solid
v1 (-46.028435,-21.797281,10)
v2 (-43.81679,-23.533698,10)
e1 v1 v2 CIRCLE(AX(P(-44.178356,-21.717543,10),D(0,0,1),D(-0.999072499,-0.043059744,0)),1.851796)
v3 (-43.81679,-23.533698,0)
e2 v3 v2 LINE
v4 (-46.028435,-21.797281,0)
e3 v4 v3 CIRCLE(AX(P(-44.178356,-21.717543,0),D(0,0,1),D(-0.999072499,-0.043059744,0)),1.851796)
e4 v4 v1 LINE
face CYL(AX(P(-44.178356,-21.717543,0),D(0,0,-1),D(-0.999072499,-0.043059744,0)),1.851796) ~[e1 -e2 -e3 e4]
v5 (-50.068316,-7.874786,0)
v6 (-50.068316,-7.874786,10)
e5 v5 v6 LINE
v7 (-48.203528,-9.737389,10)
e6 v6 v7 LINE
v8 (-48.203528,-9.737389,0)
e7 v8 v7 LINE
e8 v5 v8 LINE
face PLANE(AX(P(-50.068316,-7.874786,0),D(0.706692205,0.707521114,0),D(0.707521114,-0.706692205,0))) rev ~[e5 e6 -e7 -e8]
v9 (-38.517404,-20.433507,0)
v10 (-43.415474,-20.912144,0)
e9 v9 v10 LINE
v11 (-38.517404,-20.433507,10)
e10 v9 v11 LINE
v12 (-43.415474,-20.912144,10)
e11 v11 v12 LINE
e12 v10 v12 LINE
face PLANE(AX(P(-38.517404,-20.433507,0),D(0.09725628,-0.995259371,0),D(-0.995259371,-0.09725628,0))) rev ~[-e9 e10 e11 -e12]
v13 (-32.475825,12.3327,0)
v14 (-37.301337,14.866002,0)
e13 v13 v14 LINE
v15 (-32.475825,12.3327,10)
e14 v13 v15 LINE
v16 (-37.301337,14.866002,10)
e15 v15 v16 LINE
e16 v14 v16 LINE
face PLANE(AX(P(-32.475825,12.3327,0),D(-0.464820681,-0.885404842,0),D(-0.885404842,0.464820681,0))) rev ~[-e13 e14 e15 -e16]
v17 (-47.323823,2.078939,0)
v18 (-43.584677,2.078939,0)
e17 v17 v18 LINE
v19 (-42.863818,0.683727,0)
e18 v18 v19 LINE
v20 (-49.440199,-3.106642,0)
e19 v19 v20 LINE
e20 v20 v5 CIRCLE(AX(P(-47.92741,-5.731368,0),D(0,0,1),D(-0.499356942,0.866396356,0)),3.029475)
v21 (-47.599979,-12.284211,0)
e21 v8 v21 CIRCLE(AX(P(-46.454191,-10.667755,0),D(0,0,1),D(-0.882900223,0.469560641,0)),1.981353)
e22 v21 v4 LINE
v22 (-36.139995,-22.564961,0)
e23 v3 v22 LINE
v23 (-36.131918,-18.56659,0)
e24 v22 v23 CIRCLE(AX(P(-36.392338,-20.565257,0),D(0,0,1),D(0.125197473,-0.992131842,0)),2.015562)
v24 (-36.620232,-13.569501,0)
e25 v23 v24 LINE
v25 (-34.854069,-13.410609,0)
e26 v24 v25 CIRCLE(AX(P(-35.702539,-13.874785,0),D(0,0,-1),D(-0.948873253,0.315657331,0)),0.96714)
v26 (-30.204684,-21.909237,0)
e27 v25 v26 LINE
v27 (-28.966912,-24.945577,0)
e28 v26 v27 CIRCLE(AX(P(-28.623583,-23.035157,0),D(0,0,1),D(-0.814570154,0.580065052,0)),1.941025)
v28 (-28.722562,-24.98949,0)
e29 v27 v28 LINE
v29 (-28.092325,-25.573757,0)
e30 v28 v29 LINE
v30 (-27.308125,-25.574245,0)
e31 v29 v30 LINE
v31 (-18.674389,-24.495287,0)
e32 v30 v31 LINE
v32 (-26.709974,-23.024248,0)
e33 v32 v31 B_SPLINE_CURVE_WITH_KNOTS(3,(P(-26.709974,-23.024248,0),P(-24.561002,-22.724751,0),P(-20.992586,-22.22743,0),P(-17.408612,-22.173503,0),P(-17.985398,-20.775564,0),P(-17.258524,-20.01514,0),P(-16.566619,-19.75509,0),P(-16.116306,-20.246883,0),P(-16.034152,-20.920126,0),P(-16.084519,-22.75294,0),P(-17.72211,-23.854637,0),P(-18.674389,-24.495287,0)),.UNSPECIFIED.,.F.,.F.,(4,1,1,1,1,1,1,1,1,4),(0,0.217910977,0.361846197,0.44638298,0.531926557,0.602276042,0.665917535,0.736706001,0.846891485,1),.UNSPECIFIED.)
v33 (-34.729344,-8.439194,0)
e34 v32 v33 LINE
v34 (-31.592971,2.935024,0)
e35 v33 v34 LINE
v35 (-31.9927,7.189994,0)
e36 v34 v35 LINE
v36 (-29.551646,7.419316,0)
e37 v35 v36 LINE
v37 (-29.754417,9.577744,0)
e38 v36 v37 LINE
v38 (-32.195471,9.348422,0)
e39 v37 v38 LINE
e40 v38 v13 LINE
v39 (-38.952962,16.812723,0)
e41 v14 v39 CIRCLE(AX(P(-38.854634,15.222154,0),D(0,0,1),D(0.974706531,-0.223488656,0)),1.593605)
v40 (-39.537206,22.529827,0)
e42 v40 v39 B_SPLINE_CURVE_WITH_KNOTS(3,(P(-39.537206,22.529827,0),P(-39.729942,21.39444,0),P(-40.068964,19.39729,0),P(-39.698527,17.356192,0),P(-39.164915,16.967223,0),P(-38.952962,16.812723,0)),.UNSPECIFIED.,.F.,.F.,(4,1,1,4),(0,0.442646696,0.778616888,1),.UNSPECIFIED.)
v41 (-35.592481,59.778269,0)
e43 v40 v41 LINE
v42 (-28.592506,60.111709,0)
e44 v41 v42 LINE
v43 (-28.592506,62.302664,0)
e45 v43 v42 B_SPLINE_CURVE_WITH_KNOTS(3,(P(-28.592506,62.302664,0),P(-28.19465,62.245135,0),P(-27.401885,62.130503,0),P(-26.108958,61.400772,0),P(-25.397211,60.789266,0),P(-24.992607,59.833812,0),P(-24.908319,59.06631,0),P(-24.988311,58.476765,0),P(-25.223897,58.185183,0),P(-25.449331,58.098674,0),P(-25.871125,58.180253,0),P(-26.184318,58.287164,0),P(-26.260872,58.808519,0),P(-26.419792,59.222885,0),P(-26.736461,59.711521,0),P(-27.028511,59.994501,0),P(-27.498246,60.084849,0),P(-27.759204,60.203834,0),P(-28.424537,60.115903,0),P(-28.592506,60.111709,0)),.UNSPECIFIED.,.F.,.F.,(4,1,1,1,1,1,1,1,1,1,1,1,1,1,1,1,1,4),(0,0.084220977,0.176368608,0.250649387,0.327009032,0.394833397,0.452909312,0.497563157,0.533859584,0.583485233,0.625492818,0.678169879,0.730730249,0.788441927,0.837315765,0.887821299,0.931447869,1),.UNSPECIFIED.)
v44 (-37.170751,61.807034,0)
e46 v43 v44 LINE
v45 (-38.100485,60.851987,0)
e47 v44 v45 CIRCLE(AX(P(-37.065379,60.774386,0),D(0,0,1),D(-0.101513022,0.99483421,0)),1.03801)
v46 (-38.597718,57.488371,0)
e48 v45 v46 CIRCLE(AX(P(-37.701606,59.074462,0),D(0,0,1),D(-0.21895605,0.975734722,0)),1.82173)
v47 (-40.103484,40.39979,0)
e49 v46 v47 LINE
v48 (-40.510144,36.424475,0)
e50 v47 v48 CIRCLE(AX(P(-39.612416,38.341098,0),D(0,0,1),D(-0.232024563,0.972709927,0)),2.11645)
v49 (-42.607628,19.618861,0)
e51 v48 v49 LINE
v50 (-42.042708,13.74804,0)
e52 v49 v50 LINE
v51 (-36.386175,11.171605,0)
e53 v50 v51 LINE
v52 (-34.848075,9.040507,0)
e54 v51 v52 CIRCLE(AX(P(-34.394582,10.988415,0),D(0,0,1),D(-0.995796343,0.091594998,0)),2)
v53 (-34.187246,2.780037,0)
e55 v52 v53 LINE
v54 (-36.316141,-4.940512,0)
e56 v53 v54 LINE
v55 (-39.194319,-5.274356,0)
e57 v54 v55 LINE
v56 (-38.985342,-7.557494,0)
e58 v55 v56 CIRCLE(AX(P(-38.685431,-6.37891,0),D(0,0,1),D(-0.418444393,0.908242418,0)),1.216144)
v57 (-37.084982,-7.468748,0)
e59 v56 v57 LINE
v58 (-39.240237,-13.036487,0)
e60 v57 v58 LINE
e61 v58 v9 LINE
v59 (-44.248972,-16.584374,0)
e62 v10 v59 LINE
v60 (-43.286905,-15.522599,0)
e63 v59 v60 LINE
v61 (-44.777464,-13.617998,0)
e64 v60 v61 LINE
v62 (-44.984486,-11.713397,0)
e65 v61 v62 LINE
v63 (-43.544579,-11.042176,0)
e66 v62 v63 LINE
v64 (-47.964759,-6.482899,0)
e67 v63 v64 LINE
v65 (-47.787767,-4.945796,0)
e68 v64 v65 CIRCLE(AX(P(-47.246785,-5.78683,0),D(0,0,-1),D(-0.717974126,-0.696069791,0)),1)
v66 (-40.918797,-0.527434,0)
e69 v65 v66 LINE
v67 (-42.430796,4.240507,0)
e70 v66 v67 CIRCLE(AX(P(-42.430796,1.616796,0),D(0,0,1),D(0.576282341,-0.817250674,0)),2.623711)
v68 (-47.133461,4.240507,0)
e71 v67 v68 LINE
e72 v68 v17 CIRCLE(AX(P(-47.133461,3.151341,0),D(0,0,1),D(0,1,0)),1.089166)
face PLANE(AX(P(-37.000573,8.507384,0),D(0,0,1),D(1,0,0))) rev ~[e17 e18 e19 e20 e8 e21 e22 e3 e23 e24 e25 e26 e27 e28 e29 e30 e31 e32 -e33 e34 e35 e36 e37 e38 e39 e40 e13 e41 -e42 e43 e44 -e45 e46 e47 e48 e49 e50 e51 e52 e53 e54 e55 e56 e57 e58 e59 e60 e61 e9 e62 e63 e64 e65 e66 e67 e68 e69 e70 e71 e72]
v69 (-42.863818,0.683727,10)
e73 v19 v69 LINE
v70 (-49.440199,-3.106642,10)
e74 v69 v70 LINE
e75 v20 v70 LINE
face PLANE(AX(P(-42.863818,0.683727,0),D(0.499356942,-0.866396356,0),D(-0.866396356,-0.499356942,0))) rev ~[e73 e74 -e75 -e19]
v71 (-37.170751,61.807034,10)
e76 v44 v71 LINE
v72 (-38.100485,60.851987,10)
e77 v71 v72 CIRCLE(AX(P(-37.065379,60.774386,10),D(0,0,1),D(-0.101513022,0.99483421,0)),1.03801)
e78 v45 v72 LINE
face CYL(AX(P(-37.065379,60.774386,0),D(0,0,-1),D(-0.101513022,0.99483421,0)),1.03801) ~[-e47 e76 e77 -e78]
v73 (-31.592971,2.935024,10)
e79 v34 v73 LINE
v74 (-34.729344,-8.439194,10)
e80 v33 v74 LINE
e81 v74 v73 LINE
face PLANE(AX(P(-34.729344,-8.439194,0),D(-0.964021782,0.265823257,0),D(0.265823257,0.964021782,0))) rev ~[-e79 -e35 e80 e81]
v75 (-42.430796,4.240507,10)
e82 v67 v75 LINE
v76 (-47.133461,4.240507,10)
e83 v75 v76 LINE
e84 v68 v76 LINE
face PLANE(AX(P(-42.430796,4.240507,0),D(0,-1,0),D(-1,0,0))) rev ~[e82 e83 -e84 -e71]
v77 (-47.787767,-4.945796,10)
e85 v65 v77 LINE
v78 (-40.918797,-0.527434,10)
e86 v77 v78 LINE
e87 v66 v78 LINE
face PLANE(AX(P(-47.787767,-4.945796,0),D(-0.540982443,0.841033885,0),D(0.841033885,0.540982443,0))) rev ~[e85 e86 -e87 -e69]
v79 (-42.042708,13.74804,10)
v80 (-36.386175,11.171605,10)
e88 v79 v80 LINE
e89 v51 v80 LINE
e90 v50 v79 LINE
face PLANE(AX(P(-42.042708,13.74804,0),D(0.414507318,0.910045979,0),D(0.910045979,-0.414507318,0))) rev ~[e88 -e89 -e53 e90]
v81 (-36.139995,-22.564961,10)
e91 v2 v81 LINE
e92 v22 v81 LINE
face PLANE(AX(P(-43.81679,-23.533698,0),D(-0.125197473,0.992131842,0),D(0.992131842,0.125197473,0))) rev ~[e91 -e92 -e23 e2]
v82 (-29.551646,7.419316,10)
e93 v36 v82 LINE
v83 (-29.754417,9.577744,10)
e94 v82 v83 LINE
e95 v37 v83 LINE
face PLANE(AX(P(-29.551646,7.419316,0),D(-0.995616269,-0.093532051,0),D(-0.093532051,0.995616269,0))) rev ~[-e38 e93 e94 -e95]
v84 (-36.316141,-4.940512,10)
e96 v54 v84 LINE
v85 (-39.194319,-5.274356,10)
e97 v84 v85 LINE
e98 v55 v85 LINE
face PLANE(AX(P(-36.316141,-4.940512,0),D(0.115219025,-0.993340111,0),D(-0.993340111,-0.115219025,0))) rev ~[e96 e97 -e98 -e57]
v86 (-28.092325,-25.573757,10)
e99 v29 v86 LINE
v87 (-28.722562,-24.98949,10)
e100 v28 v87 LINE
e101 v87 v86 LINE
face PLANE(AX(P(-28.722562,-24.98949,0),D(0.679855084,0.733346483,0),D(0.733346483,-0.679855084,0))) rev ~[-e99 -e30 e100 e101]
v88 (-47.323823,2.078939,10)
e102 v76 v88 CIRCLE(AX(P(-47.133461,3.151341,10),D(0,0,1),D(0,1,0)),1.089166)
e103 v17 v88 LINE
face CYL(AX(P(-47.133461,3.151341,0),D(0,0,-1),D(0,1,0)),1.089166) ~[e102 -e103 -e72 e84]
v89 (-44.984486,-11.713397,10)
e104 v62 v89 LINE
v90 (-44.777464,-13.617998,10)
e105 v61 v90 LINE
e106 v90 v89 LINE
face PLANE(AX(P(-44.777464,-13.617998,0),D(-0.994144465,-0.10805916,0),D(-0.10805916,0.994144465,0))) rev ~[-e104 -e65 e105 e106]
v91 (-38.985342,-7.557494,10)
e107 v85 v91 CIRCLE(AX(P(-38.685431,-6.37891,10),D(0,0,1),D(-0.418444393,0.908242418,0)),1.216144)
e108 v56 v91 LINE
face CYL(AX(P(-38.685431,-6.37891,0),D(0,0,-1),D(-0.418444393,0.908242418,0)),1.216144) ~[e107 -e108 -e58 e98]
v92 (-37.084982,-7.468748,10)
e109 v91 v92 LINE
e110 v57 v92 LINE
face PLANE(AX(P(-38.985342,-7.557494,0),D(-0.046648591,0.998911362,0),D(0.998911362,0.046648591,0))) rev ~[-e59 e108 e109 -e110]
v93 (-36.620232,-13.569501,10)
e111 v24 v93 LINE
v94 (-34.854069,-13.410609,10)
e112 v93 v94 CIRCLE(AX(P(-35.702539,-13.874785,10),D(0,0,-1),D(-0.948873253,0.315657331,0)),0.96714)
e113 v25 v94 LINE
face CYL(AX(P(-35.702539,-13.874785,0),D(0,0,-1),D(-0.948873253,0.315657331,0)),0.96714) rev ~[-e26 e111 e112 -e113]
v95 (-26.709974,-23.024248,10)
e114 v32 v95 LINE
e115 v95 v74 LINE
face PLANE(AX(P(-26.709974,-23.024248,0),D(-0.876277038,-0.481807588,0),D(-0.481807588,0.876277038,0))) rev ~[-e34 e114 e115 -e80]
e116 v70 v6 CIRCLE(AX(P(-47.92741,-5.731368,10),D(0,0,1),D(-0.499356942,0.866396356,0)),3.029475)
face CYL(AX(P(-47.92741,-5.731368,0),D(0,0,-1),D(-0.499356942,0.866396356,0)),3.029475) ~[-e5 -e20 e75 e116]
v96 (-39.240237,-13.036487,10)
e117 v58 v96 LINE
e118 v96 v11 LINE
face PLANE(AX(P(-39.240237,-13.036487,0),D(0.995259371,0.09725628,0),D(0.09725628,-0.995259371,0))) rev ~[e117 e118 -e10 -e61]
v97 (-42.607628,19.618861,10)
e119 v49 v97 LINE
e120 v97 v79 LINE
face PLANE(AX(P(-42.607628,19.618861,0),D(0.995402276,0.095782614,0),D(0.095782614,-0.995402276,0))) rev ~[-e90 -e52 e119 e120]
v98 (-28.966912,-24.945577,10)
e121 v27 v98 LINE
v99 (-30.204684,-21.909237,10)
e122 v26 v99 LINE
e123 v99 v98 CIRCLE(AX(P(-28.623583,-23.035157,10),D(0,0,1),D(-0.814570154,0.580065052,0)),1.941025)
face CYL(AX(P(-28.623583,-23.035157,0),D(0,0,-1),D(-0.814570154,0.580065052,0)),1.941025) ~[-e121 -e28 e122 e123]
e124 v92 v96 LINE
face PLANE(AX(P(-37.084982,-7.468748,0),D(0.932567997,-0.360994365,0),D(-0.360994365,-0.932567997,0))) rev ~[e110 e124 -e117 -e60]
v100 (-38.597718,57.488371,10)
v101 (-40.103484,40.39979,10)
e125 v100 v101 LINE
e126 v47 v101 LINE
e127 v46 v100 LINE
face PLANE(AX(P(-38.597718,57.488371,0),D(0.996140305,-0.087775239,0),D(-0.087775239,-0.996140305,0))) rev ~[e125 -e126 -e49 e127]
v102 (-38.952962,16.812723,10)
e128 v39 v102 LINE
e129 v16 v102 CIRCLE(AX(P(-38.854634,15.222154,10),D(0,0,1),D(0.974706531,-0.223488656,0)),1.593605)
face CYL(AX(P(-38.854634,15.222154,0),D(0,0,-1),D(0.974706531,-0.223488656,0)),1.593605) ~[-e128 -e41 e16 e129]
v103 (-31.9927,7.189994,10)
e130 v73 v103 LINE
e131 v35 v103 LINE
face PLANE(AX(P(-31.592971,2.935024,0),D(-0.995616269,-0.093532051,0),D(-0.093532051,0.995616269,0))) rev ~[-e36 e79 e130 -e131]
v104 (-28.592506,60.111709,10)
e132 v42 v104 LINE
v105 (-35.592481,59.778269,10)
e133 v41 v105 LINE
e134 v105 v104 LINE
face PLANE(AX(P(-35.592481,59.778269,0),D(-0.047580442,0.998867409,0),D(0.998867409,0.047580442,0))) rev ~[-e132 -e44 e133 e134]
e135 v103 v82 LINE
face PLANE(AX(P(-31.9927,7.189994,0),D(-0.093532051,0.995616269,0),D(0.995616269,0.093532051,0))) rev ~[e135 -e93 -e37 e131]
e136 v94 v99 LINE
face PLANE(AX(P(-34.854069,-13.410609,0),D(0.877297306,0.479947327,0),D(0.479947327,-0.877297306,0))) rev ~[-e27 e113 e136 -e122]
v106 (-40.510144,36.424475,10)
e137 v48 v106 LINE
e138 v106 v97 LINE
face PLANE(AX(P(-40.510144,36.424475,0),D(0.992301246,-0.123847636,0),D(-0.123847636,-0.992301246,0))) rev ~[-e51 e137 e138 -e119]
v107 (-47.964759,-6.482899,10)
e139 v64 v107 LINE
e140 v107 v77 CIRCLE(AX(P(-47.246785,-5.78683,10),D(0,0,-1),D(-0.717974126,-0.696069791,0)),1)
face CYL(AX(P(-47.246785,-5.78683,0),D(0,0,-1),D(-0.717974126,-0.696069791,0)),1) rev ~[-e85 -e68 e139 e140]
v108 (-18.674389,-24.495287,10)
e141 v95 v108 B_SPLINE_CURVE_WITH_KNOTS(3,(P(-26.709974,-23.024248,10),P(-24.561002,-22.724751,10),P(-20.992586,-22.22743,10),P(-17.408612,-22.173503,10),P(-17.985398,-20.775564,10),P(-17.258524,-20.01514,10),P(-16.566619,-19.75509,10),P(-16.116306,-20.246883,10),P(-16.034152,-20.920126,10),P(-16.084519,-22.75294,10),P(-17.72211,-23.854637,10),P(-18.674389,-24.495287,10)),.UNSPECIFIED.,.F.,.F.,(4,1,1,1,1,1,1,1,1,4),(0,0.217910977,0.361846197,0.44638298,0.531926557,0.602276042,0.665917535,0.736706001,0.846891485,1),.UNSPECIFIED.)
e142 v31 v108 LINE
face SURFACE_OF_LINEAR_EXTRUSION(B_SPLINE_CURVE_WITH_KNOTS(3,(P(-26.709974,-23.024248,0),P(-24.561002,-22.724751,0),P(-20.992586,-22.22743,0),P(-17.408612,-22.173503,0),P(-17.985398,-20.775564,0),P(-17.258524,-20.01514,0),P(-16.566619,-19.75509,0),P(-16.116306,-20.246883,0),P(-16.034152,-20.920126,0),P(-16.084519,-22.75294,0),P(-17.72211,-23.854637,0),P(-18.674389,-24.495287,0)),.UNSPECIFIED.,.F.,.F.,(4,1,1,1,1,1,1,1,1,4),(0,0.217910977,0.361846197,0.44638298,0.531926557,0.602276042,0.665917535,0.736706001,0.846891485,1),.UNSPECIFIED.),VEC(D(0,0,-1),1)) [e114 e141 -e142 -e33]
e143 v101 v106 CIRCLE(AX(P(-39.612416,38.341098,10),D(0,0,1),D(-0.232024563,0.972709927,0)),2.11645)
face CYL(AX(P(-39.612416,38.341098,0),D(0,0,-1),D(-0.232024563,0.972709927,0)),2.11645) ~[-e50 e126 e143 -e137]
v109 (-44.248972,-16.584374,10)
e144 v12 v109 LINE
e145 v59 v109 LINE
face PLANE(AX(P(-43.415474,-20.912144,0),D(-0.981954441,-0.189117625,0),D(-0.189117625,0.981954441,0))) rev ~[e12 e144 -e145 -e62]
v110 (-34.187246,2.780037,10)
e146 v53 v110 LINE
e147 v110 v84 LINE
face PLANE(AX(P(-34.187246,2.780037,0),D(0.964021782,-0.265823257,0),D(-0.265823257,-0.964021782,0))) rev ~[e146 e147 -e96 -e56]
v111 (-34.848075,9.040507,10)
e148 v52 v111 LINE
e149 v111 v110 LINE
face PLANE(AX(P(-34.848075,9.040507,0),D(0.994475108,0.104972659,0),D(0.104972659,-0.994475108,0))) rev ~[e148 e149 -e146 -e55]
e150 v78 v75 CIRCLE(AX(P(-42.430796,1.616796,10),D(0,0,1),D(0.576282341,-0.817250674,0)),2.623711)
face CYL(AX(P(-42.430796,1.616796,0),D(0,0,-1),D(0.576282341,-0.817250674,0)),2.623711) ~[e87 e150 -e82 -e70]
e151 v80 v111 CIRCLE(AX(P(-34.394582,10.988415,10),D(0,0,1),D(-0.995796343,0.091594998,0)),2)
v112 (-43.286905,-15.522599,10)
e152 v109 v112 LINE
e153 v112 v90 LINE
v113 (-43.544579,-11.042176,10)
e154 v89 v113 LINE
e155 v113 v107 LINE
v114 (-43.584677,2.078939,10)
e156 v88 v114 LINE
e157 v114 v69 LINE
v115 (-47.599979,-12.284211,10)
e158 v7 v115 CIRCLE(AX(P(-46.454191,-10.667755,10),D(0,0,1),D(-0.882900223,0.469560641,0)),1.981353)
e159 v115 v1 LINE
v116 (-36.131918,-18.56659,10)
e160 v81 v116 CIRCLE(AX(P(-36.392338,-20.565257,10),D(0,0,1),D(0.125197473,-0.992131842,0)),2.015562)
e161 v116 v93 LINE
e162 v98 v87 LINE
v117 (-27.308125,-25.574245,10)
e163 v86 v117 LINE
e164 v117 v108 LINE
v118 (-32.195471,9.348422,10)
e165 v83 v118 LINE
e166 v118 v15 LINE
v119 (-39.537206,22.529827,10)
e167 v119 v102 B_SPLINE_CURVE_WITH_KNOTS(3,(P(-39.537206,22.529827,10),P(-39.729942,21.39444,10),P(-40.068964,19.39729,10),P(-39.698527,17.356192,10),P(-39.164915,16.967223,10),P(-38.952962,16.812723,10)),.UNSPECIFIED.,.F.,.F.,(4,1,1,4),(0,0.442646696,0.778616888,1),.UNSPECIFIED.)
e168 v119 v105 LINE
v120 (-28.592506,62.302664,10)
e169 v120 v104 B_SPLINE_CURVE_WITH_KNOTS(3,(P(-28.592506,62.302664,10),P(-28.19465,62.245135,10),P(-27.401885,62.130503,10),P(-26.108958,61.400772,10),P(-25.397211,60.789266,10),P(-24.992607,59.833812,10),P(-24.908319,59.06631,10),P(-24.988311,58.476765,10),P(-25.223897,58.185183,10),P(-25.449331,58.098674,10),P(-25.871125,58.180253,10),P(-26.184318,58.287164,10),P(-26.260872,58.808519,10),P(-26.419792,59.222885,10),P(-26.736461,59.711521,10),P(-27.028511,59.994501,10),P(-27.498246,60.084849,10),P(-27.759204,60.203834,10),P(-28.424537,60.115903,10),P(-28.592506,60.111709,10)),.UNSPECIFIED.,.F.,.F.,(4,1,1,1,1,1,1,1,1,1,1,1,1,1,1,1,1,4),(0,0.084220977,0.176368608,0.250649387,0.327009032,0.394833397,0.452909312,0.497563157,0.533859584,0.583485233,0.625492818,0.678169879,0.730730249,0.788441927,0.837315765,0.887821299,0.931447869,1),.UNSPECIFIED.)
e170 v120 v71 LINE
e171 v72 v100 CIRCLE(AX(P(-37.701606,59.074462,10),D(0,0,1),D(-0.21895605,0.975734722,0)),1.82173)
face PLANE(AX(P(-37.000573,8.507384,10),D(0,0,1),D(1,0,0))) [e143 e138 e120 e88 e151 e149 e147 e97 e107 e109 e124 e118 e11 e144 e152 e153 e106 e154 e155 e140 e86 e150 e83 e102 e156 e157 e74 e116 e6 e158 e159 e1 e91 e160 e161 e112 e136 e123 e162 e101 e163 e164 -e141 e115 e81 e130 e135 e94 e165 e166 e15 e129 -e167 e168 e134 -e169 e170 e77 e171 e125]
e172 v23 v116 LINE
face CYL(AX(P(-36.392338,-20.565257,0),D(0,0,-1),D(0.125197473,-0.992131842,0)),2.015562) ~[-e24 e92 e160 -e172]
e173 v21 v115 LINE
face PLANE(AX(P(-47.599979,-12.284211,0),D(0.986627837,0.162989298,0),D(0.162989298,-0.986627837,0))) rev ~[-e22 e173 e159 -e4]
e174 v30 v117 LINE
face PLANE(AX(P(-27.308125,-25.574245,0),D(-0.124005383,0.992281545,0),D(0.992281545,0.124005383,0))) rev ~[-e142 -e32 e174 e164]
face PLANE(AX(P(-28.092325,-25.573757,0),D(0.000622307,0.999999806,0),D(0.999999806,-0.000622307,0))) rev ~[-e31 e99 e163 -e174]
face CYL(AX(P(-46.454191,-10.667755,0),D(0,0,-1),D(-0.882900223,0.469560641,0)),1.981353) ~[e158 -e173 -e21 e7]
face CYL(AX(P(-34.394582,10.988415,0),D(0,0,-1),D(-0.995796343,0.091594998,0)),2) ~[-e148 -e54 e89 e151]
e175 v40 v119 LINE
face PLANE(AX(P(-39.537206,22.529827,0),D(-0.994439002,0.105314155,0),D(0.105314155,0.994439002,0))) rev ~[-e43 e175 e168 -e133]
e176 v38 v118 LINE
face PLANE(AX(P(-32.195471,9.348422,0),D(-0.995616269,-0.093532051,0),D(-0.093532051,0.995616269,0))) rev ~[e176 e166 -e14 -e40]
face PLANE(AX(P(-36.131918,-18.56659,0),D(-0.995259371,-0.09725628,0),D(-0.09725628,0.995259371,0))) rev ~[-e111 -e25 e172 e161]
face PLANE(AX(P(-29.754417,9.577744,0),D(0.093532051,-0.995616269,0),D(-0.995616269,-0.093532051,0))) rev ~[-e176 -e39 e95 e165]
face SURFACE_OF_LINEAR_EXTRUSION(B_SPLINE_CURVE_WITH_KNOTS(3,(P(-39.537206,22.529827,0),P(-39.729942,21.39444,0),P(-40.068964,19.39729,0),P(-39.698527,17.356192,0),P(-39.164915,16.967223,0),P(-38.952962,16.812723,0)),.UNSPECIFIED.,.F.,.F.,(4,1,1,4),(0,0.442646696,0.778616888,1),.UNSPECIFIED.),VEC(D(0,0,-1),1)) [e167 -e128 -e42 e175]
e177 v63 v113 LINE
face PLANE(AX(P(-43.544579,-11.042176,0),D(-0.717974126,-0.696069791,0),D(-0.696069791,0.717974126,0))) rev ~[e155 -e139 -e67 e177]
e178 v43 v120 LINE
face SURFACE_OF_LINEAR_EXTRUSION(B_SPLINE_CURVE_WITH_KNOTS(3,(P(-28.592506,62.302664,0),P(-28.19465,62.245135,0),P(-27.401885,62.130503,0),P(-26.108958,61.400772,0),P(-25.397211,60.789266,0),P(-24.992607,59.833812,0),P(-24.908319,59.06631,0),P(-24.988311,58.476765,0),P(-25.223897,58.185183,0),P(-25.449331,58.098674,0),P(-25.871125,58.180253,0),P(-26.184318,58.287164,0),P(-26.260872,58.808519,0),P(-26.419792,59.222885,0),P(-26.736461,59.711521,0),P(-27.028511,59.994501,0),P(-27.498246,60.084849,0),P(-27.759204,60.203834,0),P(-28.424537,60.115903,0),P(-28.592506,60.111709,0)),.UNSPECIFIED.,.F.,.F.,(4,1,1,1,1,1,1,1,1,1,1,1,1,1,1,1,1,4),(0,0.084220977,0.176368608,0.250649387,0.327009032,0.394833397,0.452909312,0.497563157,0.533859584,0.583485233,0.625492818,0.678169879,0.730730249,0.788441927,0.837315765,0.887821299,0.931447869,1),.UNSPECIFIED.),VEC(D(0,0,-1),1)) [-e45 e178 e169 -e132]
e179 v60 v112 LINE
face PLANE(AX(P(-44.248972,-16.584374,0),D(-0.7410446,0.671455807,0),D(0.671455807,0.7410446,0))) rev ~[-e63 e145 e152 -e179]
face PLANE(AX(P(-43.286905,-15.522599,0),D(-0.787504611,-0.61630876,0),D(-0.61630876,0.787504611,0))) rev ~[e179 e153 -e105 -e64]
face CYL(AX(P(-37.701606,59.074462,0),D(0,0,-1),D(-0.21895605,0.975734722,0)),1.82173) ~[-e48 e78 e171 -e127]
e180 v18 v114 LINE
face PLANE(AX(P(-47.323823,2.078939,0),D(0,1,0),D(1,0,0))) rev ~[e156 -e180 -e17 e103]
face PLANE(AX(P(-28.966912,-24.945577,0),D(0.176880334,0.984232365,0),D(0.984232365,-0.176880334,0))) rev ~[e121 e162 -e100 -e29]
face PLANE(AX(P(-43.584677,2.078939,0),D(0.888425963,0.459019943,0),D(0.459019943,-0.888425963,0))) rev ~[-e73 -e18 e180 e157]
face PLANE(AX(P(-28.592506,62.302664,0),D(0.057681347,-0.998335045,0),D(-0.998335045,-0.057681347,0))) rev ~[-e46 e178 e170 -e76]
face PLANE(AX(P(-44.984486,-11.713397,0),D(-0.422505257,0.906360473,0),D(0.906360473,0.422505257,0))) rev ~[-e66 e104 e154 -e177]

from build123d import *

# Parameters (mm, degrees)
F1_DEPTH = 10


with BuildPart() as f1:
    # F0 (on Top) → F1 (new body)
    with BuildSketch(Plane.XY):
        with BuildLine():
            ThreePointArc((-47.1334606409, 4.24050726), (-48.2184275947, 3.2468906166), (-47.3238229752, 2.0789394621))
            Line((-47.3238229752, 2.0789394621), (-43.5846773794, 2.0789394621))
            Line((-43.5846773794, 2.0789394621), (-42.8638177577, 0.68372687))
            Line((-42.8638177577, 0.68372687), (-49.440199136, -3.1066419031))
            ThreePointArc((-49.440199136, -3.1066419031), (-50.9309363264, -5.3357075717), (-50.0683161516, -7.8747856642))
            Line((-50.0683161516, -7.8747856642), (-48.2035279274, -9.7373891622))
            ThreePointArc((-48.2035279274, -9.7373891622), (-48.382146287, -11.12464418), (-47.599978745, -12.2842108831))
            Line((-47.599978745, -12.2842108831), (-46.0284352303, -21.7972807586))
            ThreePointArc((-46.0284352303, -21.7972807586), (-45.3219050723, -23.1740614679), (-43.8167899847, -23.5336981714))
            Line((-43.8167899847, -23.5336981714), (-36.1399948597, -22.5649606436))
            ThreePointArc((-36.1399948597, -22.5649606436), (-34.3767801937, -20.5693286364), (-36.1319184303, -18.5665898025))
            Line((-36.1319184303, -18.5665898025), (-36.620231647, -13.5695006156))
            ThreePointArc((-36.620231647, -13.5695006156), (-35.7891965196, -12.9115357623), (-34.8540693521, -13.4106092155))
            Line((-34.8540693521, -13.4106092155), (-30.2046835423, -21.909236908))
            ThreePointArc((-30.2046835423, -21.909236908), (-30.4209968988, -23.7678779021), (-28.9669118833, -24.945576752))
            Line((-28.9669118833, -24.945576752), (-28.7225618528, -24.9894898731))
            Line((-28.7225618528, -24.9894898731), (-28.0923247337, -25.5737565458))
            Line((-28.0923247337, -25.5737565458), (-27.3081250489, -25.5742445588))
            Line((-27.3081250489, -25.5742445588), (-18.6743885279, -24.495286867))
            add(Edge.make_bspline(
                [(-26.7099738121, -23.0242479593), (-24.5610024874, -22.72475134), (-20.9925861048, -22.2274303054), (-17.4086116689, -22.1735029915), (-17.9853982565, -20.7755639724), (-17.2585243215, -20.0151400787), (-16.5666192529, -19.7550899052), (-16.1163061938, -20.2468830163), (-16.0341516075, -20.9201256889), (-16.0845187957, -22.7529397044), (-17.7221101538, -23.8546370681), (-18.6743885279, -24.495286867)],
                knots=[0, 0, 0, 0, 0.2179109772, 0.3618461968, 0.4463829803, 0.5319265573, 0.6022760425, 0.665917535, 0.7367060006, 0.8468914846, 1, 1, 1, 1], degree=3))
            Line((-26.7099738121, -23.0242479593), (-34.7293438822, -8.4391936127))
            Line((-34.7293438822, -8.4391936127), (-31.5929712516, 2.935023874))
            Line((-31.5929712516, 2.935023874), (-31.9926995888, 7.1899935128))
            Line((-31.9926995888, 7.1899935128), (-29.5516459117, 7.4193155551))
            Line((-29.5516459117, 7.4193155551), (-29.7544170171, 9.5777437091))
            Line((-29.7544170171, 9.5777437091), (-32.1954706942, 9.3484216668))
            Line((-32.1954706942, 9.3484216668), (-32.4758253864, 12.3327002189))
            Line((-32.4758253864, 12.3327002189), (-37.3013366167, 14.8660017231))
            ThreePointArc((-37.3013366167, 14.8660017231), (-37.6394527685, 16.2531306263), (-38.9529615641, 16.81272313))
            add(Edge.make_bspline(
                [(-39.5372062922, 22.5298274308), (-39.7299415878, 21.3944398578), (-40.0689635602, 19.3972896568), (-39.6985270328, 17.3561920377), (-39.1649146722, 16.9672232095), (-38.9529615641, 16.81272313)],
                knots=[0, 0, 0, 0, 0.4426466964, 0.7786168879, 1, 1, 1, 1], degree=3))
            Line((-39.5372062922, 22.5298274308), (-35.5924814939, 59.7782693803))
            Line((-35.5924814939, 59.7782693803), (-28.5925064236, 60.1117089391))
            add(Edge.make_bspline(
                [(-28.5925064236, 62.3026639223), (-28.1946501943, 62.2451351219), (-27.401884611, 62.1305032552), (-26.1089580985, 61.4007717023), (-25.3972112456, 60.7892662033), (-24.9926069502, 59.8338117884), (-24.9083193932, 59.0663103092), (-24.9883113807, 58.476764785), (-25.2238973669, 58.1851832624), (-25.449331274, 58.0986735665), (-25.8711253773, 58.1802532166), (-26.1843177088, 58.28716389), (-26.2608719689, 58.8085191398), (-26.4197918827, 59.2228854981), (-26.7364614087, 59.7115212257), (-27.0285110172, 59.9945013158), (-27.4982464178, 60.0848488731), (-27.7592040048, 60.203833896), (-28.4245371456, 60.1159033663), (-28.5925064236, 60.1117089391)],
                knots=[0, 0, 0, 0, 0.0842209767, 0.1763686085, 0.2506493874, 0.3270090317, 0.3948333971, 0.4529093116, 0.4975631569, 0.533859584, 0.5834852333, 0.6254928184, 0.6781698792, 0.7307302492, 0.7884419265, 0.8373157645, 0.8878212992, 0.931447869, 1, 1, 1, 1], degree=3))
            Line((-28.5925064236, 62.3026639223), (-37.1707508784, 61.8070340284))
            ThreePointArc((-37.1707508784, 61.8070340284), (-37.8091537729, 61.4984472715), (-38.1004847586, 60.8519874513))
            ThreePointArc((-38.1004847586, 60.8519874513), (-39.5037517469, 59.3408674909), (-38.5977178812, 57.4883706868))
            Line((-38.5977178812, 57.4883706868), (-40.1034839451, 40.3997898102))
            ThreePointArc((-40.1034839451, 40.3997898102), (-41.7178777086, 38.5564792503), (-40.5101442445, 36.4244752814))
            Line((-40.5101442445, 36.4244752814), (-42.607627809, 19.6188613772))
            Line((-42.607627809, 19.6188613772), (-42.042707849, 13.748040056))
            Line((-42.042707849, 13.748040056), (-36.3861749058, 11.1716050712))
            ThreePointArc((-36.3861749058, 11.1716050712), (-36.0163113593, 9.8179473922), (-34.8480753601, 9.040507488))
            Line((-34.8480753601, 9.040507488), (-34.187246114, 2.7800370008))
            Line((-34.187246114, 2.7800370008), (-36.3161414862, -4.9405121244))
            Line((-36.3161414862, -4.9405121244), (-39.1943193972, -5.2743563429))
            ThreePointArc((-39.1943193972, -5.2743563429), (-39.8965121766, -6.4897612797), (-38.9853417873, -7.5574936345))
            Line((-38.9853417873, -7.5574936345), (-37.0849817991, -7.4687479064))
            Line((-37.0849817991, -7.4687479064), (-39.2402373254, -13.0364866927))
            Line((-39.2402373254, -13.0364866927), (-38.5174039547, -20.4335070832))
            Line((-38.5174039547, -20.4335070832), (-43.4154735281, -20.9121441496))
            Line((-43.4154735281, -20.9121441496), (-44.2489720881, -16.5843740106))
            Line((-44.2489720881, -16.5843740106), (-43.2869046926, -15.5225992203))
            Line((-43.2869046926, -15.5225992203), (-44.7774641216, -13.6179979891))
            Line((-44.7774641216, -13.6179979891), (-44.984485954, -11.7133967578))
            Line((-44.984485954, -11.7133967578), (-43.5445792973, -11.0421758145))
            Line((-43.5445792973, -11.0421758145), (-47.9647588406, -6.4828994504))
            ThreePointArc((-47.9647588406, -6.4828994504), (-48.2402205898, -5.6724392704), (-47.7877671576, -4.9457957743))
            Line((-47.7877671576, -4.9457957743), (-40.9187972546, -0.5274338182))
            ThreePointArc((-40.9187972546, -0.5274338182), (-39.9298258417, 2.4098977876), (-42.4307957292, 4.24050726))
            Line((-42.4307957292, 4.24050726), (-47.1334606409, 4.24050726))
        make_face()
    extrude(amount=F1_DEPTH)


solid = f1.part
